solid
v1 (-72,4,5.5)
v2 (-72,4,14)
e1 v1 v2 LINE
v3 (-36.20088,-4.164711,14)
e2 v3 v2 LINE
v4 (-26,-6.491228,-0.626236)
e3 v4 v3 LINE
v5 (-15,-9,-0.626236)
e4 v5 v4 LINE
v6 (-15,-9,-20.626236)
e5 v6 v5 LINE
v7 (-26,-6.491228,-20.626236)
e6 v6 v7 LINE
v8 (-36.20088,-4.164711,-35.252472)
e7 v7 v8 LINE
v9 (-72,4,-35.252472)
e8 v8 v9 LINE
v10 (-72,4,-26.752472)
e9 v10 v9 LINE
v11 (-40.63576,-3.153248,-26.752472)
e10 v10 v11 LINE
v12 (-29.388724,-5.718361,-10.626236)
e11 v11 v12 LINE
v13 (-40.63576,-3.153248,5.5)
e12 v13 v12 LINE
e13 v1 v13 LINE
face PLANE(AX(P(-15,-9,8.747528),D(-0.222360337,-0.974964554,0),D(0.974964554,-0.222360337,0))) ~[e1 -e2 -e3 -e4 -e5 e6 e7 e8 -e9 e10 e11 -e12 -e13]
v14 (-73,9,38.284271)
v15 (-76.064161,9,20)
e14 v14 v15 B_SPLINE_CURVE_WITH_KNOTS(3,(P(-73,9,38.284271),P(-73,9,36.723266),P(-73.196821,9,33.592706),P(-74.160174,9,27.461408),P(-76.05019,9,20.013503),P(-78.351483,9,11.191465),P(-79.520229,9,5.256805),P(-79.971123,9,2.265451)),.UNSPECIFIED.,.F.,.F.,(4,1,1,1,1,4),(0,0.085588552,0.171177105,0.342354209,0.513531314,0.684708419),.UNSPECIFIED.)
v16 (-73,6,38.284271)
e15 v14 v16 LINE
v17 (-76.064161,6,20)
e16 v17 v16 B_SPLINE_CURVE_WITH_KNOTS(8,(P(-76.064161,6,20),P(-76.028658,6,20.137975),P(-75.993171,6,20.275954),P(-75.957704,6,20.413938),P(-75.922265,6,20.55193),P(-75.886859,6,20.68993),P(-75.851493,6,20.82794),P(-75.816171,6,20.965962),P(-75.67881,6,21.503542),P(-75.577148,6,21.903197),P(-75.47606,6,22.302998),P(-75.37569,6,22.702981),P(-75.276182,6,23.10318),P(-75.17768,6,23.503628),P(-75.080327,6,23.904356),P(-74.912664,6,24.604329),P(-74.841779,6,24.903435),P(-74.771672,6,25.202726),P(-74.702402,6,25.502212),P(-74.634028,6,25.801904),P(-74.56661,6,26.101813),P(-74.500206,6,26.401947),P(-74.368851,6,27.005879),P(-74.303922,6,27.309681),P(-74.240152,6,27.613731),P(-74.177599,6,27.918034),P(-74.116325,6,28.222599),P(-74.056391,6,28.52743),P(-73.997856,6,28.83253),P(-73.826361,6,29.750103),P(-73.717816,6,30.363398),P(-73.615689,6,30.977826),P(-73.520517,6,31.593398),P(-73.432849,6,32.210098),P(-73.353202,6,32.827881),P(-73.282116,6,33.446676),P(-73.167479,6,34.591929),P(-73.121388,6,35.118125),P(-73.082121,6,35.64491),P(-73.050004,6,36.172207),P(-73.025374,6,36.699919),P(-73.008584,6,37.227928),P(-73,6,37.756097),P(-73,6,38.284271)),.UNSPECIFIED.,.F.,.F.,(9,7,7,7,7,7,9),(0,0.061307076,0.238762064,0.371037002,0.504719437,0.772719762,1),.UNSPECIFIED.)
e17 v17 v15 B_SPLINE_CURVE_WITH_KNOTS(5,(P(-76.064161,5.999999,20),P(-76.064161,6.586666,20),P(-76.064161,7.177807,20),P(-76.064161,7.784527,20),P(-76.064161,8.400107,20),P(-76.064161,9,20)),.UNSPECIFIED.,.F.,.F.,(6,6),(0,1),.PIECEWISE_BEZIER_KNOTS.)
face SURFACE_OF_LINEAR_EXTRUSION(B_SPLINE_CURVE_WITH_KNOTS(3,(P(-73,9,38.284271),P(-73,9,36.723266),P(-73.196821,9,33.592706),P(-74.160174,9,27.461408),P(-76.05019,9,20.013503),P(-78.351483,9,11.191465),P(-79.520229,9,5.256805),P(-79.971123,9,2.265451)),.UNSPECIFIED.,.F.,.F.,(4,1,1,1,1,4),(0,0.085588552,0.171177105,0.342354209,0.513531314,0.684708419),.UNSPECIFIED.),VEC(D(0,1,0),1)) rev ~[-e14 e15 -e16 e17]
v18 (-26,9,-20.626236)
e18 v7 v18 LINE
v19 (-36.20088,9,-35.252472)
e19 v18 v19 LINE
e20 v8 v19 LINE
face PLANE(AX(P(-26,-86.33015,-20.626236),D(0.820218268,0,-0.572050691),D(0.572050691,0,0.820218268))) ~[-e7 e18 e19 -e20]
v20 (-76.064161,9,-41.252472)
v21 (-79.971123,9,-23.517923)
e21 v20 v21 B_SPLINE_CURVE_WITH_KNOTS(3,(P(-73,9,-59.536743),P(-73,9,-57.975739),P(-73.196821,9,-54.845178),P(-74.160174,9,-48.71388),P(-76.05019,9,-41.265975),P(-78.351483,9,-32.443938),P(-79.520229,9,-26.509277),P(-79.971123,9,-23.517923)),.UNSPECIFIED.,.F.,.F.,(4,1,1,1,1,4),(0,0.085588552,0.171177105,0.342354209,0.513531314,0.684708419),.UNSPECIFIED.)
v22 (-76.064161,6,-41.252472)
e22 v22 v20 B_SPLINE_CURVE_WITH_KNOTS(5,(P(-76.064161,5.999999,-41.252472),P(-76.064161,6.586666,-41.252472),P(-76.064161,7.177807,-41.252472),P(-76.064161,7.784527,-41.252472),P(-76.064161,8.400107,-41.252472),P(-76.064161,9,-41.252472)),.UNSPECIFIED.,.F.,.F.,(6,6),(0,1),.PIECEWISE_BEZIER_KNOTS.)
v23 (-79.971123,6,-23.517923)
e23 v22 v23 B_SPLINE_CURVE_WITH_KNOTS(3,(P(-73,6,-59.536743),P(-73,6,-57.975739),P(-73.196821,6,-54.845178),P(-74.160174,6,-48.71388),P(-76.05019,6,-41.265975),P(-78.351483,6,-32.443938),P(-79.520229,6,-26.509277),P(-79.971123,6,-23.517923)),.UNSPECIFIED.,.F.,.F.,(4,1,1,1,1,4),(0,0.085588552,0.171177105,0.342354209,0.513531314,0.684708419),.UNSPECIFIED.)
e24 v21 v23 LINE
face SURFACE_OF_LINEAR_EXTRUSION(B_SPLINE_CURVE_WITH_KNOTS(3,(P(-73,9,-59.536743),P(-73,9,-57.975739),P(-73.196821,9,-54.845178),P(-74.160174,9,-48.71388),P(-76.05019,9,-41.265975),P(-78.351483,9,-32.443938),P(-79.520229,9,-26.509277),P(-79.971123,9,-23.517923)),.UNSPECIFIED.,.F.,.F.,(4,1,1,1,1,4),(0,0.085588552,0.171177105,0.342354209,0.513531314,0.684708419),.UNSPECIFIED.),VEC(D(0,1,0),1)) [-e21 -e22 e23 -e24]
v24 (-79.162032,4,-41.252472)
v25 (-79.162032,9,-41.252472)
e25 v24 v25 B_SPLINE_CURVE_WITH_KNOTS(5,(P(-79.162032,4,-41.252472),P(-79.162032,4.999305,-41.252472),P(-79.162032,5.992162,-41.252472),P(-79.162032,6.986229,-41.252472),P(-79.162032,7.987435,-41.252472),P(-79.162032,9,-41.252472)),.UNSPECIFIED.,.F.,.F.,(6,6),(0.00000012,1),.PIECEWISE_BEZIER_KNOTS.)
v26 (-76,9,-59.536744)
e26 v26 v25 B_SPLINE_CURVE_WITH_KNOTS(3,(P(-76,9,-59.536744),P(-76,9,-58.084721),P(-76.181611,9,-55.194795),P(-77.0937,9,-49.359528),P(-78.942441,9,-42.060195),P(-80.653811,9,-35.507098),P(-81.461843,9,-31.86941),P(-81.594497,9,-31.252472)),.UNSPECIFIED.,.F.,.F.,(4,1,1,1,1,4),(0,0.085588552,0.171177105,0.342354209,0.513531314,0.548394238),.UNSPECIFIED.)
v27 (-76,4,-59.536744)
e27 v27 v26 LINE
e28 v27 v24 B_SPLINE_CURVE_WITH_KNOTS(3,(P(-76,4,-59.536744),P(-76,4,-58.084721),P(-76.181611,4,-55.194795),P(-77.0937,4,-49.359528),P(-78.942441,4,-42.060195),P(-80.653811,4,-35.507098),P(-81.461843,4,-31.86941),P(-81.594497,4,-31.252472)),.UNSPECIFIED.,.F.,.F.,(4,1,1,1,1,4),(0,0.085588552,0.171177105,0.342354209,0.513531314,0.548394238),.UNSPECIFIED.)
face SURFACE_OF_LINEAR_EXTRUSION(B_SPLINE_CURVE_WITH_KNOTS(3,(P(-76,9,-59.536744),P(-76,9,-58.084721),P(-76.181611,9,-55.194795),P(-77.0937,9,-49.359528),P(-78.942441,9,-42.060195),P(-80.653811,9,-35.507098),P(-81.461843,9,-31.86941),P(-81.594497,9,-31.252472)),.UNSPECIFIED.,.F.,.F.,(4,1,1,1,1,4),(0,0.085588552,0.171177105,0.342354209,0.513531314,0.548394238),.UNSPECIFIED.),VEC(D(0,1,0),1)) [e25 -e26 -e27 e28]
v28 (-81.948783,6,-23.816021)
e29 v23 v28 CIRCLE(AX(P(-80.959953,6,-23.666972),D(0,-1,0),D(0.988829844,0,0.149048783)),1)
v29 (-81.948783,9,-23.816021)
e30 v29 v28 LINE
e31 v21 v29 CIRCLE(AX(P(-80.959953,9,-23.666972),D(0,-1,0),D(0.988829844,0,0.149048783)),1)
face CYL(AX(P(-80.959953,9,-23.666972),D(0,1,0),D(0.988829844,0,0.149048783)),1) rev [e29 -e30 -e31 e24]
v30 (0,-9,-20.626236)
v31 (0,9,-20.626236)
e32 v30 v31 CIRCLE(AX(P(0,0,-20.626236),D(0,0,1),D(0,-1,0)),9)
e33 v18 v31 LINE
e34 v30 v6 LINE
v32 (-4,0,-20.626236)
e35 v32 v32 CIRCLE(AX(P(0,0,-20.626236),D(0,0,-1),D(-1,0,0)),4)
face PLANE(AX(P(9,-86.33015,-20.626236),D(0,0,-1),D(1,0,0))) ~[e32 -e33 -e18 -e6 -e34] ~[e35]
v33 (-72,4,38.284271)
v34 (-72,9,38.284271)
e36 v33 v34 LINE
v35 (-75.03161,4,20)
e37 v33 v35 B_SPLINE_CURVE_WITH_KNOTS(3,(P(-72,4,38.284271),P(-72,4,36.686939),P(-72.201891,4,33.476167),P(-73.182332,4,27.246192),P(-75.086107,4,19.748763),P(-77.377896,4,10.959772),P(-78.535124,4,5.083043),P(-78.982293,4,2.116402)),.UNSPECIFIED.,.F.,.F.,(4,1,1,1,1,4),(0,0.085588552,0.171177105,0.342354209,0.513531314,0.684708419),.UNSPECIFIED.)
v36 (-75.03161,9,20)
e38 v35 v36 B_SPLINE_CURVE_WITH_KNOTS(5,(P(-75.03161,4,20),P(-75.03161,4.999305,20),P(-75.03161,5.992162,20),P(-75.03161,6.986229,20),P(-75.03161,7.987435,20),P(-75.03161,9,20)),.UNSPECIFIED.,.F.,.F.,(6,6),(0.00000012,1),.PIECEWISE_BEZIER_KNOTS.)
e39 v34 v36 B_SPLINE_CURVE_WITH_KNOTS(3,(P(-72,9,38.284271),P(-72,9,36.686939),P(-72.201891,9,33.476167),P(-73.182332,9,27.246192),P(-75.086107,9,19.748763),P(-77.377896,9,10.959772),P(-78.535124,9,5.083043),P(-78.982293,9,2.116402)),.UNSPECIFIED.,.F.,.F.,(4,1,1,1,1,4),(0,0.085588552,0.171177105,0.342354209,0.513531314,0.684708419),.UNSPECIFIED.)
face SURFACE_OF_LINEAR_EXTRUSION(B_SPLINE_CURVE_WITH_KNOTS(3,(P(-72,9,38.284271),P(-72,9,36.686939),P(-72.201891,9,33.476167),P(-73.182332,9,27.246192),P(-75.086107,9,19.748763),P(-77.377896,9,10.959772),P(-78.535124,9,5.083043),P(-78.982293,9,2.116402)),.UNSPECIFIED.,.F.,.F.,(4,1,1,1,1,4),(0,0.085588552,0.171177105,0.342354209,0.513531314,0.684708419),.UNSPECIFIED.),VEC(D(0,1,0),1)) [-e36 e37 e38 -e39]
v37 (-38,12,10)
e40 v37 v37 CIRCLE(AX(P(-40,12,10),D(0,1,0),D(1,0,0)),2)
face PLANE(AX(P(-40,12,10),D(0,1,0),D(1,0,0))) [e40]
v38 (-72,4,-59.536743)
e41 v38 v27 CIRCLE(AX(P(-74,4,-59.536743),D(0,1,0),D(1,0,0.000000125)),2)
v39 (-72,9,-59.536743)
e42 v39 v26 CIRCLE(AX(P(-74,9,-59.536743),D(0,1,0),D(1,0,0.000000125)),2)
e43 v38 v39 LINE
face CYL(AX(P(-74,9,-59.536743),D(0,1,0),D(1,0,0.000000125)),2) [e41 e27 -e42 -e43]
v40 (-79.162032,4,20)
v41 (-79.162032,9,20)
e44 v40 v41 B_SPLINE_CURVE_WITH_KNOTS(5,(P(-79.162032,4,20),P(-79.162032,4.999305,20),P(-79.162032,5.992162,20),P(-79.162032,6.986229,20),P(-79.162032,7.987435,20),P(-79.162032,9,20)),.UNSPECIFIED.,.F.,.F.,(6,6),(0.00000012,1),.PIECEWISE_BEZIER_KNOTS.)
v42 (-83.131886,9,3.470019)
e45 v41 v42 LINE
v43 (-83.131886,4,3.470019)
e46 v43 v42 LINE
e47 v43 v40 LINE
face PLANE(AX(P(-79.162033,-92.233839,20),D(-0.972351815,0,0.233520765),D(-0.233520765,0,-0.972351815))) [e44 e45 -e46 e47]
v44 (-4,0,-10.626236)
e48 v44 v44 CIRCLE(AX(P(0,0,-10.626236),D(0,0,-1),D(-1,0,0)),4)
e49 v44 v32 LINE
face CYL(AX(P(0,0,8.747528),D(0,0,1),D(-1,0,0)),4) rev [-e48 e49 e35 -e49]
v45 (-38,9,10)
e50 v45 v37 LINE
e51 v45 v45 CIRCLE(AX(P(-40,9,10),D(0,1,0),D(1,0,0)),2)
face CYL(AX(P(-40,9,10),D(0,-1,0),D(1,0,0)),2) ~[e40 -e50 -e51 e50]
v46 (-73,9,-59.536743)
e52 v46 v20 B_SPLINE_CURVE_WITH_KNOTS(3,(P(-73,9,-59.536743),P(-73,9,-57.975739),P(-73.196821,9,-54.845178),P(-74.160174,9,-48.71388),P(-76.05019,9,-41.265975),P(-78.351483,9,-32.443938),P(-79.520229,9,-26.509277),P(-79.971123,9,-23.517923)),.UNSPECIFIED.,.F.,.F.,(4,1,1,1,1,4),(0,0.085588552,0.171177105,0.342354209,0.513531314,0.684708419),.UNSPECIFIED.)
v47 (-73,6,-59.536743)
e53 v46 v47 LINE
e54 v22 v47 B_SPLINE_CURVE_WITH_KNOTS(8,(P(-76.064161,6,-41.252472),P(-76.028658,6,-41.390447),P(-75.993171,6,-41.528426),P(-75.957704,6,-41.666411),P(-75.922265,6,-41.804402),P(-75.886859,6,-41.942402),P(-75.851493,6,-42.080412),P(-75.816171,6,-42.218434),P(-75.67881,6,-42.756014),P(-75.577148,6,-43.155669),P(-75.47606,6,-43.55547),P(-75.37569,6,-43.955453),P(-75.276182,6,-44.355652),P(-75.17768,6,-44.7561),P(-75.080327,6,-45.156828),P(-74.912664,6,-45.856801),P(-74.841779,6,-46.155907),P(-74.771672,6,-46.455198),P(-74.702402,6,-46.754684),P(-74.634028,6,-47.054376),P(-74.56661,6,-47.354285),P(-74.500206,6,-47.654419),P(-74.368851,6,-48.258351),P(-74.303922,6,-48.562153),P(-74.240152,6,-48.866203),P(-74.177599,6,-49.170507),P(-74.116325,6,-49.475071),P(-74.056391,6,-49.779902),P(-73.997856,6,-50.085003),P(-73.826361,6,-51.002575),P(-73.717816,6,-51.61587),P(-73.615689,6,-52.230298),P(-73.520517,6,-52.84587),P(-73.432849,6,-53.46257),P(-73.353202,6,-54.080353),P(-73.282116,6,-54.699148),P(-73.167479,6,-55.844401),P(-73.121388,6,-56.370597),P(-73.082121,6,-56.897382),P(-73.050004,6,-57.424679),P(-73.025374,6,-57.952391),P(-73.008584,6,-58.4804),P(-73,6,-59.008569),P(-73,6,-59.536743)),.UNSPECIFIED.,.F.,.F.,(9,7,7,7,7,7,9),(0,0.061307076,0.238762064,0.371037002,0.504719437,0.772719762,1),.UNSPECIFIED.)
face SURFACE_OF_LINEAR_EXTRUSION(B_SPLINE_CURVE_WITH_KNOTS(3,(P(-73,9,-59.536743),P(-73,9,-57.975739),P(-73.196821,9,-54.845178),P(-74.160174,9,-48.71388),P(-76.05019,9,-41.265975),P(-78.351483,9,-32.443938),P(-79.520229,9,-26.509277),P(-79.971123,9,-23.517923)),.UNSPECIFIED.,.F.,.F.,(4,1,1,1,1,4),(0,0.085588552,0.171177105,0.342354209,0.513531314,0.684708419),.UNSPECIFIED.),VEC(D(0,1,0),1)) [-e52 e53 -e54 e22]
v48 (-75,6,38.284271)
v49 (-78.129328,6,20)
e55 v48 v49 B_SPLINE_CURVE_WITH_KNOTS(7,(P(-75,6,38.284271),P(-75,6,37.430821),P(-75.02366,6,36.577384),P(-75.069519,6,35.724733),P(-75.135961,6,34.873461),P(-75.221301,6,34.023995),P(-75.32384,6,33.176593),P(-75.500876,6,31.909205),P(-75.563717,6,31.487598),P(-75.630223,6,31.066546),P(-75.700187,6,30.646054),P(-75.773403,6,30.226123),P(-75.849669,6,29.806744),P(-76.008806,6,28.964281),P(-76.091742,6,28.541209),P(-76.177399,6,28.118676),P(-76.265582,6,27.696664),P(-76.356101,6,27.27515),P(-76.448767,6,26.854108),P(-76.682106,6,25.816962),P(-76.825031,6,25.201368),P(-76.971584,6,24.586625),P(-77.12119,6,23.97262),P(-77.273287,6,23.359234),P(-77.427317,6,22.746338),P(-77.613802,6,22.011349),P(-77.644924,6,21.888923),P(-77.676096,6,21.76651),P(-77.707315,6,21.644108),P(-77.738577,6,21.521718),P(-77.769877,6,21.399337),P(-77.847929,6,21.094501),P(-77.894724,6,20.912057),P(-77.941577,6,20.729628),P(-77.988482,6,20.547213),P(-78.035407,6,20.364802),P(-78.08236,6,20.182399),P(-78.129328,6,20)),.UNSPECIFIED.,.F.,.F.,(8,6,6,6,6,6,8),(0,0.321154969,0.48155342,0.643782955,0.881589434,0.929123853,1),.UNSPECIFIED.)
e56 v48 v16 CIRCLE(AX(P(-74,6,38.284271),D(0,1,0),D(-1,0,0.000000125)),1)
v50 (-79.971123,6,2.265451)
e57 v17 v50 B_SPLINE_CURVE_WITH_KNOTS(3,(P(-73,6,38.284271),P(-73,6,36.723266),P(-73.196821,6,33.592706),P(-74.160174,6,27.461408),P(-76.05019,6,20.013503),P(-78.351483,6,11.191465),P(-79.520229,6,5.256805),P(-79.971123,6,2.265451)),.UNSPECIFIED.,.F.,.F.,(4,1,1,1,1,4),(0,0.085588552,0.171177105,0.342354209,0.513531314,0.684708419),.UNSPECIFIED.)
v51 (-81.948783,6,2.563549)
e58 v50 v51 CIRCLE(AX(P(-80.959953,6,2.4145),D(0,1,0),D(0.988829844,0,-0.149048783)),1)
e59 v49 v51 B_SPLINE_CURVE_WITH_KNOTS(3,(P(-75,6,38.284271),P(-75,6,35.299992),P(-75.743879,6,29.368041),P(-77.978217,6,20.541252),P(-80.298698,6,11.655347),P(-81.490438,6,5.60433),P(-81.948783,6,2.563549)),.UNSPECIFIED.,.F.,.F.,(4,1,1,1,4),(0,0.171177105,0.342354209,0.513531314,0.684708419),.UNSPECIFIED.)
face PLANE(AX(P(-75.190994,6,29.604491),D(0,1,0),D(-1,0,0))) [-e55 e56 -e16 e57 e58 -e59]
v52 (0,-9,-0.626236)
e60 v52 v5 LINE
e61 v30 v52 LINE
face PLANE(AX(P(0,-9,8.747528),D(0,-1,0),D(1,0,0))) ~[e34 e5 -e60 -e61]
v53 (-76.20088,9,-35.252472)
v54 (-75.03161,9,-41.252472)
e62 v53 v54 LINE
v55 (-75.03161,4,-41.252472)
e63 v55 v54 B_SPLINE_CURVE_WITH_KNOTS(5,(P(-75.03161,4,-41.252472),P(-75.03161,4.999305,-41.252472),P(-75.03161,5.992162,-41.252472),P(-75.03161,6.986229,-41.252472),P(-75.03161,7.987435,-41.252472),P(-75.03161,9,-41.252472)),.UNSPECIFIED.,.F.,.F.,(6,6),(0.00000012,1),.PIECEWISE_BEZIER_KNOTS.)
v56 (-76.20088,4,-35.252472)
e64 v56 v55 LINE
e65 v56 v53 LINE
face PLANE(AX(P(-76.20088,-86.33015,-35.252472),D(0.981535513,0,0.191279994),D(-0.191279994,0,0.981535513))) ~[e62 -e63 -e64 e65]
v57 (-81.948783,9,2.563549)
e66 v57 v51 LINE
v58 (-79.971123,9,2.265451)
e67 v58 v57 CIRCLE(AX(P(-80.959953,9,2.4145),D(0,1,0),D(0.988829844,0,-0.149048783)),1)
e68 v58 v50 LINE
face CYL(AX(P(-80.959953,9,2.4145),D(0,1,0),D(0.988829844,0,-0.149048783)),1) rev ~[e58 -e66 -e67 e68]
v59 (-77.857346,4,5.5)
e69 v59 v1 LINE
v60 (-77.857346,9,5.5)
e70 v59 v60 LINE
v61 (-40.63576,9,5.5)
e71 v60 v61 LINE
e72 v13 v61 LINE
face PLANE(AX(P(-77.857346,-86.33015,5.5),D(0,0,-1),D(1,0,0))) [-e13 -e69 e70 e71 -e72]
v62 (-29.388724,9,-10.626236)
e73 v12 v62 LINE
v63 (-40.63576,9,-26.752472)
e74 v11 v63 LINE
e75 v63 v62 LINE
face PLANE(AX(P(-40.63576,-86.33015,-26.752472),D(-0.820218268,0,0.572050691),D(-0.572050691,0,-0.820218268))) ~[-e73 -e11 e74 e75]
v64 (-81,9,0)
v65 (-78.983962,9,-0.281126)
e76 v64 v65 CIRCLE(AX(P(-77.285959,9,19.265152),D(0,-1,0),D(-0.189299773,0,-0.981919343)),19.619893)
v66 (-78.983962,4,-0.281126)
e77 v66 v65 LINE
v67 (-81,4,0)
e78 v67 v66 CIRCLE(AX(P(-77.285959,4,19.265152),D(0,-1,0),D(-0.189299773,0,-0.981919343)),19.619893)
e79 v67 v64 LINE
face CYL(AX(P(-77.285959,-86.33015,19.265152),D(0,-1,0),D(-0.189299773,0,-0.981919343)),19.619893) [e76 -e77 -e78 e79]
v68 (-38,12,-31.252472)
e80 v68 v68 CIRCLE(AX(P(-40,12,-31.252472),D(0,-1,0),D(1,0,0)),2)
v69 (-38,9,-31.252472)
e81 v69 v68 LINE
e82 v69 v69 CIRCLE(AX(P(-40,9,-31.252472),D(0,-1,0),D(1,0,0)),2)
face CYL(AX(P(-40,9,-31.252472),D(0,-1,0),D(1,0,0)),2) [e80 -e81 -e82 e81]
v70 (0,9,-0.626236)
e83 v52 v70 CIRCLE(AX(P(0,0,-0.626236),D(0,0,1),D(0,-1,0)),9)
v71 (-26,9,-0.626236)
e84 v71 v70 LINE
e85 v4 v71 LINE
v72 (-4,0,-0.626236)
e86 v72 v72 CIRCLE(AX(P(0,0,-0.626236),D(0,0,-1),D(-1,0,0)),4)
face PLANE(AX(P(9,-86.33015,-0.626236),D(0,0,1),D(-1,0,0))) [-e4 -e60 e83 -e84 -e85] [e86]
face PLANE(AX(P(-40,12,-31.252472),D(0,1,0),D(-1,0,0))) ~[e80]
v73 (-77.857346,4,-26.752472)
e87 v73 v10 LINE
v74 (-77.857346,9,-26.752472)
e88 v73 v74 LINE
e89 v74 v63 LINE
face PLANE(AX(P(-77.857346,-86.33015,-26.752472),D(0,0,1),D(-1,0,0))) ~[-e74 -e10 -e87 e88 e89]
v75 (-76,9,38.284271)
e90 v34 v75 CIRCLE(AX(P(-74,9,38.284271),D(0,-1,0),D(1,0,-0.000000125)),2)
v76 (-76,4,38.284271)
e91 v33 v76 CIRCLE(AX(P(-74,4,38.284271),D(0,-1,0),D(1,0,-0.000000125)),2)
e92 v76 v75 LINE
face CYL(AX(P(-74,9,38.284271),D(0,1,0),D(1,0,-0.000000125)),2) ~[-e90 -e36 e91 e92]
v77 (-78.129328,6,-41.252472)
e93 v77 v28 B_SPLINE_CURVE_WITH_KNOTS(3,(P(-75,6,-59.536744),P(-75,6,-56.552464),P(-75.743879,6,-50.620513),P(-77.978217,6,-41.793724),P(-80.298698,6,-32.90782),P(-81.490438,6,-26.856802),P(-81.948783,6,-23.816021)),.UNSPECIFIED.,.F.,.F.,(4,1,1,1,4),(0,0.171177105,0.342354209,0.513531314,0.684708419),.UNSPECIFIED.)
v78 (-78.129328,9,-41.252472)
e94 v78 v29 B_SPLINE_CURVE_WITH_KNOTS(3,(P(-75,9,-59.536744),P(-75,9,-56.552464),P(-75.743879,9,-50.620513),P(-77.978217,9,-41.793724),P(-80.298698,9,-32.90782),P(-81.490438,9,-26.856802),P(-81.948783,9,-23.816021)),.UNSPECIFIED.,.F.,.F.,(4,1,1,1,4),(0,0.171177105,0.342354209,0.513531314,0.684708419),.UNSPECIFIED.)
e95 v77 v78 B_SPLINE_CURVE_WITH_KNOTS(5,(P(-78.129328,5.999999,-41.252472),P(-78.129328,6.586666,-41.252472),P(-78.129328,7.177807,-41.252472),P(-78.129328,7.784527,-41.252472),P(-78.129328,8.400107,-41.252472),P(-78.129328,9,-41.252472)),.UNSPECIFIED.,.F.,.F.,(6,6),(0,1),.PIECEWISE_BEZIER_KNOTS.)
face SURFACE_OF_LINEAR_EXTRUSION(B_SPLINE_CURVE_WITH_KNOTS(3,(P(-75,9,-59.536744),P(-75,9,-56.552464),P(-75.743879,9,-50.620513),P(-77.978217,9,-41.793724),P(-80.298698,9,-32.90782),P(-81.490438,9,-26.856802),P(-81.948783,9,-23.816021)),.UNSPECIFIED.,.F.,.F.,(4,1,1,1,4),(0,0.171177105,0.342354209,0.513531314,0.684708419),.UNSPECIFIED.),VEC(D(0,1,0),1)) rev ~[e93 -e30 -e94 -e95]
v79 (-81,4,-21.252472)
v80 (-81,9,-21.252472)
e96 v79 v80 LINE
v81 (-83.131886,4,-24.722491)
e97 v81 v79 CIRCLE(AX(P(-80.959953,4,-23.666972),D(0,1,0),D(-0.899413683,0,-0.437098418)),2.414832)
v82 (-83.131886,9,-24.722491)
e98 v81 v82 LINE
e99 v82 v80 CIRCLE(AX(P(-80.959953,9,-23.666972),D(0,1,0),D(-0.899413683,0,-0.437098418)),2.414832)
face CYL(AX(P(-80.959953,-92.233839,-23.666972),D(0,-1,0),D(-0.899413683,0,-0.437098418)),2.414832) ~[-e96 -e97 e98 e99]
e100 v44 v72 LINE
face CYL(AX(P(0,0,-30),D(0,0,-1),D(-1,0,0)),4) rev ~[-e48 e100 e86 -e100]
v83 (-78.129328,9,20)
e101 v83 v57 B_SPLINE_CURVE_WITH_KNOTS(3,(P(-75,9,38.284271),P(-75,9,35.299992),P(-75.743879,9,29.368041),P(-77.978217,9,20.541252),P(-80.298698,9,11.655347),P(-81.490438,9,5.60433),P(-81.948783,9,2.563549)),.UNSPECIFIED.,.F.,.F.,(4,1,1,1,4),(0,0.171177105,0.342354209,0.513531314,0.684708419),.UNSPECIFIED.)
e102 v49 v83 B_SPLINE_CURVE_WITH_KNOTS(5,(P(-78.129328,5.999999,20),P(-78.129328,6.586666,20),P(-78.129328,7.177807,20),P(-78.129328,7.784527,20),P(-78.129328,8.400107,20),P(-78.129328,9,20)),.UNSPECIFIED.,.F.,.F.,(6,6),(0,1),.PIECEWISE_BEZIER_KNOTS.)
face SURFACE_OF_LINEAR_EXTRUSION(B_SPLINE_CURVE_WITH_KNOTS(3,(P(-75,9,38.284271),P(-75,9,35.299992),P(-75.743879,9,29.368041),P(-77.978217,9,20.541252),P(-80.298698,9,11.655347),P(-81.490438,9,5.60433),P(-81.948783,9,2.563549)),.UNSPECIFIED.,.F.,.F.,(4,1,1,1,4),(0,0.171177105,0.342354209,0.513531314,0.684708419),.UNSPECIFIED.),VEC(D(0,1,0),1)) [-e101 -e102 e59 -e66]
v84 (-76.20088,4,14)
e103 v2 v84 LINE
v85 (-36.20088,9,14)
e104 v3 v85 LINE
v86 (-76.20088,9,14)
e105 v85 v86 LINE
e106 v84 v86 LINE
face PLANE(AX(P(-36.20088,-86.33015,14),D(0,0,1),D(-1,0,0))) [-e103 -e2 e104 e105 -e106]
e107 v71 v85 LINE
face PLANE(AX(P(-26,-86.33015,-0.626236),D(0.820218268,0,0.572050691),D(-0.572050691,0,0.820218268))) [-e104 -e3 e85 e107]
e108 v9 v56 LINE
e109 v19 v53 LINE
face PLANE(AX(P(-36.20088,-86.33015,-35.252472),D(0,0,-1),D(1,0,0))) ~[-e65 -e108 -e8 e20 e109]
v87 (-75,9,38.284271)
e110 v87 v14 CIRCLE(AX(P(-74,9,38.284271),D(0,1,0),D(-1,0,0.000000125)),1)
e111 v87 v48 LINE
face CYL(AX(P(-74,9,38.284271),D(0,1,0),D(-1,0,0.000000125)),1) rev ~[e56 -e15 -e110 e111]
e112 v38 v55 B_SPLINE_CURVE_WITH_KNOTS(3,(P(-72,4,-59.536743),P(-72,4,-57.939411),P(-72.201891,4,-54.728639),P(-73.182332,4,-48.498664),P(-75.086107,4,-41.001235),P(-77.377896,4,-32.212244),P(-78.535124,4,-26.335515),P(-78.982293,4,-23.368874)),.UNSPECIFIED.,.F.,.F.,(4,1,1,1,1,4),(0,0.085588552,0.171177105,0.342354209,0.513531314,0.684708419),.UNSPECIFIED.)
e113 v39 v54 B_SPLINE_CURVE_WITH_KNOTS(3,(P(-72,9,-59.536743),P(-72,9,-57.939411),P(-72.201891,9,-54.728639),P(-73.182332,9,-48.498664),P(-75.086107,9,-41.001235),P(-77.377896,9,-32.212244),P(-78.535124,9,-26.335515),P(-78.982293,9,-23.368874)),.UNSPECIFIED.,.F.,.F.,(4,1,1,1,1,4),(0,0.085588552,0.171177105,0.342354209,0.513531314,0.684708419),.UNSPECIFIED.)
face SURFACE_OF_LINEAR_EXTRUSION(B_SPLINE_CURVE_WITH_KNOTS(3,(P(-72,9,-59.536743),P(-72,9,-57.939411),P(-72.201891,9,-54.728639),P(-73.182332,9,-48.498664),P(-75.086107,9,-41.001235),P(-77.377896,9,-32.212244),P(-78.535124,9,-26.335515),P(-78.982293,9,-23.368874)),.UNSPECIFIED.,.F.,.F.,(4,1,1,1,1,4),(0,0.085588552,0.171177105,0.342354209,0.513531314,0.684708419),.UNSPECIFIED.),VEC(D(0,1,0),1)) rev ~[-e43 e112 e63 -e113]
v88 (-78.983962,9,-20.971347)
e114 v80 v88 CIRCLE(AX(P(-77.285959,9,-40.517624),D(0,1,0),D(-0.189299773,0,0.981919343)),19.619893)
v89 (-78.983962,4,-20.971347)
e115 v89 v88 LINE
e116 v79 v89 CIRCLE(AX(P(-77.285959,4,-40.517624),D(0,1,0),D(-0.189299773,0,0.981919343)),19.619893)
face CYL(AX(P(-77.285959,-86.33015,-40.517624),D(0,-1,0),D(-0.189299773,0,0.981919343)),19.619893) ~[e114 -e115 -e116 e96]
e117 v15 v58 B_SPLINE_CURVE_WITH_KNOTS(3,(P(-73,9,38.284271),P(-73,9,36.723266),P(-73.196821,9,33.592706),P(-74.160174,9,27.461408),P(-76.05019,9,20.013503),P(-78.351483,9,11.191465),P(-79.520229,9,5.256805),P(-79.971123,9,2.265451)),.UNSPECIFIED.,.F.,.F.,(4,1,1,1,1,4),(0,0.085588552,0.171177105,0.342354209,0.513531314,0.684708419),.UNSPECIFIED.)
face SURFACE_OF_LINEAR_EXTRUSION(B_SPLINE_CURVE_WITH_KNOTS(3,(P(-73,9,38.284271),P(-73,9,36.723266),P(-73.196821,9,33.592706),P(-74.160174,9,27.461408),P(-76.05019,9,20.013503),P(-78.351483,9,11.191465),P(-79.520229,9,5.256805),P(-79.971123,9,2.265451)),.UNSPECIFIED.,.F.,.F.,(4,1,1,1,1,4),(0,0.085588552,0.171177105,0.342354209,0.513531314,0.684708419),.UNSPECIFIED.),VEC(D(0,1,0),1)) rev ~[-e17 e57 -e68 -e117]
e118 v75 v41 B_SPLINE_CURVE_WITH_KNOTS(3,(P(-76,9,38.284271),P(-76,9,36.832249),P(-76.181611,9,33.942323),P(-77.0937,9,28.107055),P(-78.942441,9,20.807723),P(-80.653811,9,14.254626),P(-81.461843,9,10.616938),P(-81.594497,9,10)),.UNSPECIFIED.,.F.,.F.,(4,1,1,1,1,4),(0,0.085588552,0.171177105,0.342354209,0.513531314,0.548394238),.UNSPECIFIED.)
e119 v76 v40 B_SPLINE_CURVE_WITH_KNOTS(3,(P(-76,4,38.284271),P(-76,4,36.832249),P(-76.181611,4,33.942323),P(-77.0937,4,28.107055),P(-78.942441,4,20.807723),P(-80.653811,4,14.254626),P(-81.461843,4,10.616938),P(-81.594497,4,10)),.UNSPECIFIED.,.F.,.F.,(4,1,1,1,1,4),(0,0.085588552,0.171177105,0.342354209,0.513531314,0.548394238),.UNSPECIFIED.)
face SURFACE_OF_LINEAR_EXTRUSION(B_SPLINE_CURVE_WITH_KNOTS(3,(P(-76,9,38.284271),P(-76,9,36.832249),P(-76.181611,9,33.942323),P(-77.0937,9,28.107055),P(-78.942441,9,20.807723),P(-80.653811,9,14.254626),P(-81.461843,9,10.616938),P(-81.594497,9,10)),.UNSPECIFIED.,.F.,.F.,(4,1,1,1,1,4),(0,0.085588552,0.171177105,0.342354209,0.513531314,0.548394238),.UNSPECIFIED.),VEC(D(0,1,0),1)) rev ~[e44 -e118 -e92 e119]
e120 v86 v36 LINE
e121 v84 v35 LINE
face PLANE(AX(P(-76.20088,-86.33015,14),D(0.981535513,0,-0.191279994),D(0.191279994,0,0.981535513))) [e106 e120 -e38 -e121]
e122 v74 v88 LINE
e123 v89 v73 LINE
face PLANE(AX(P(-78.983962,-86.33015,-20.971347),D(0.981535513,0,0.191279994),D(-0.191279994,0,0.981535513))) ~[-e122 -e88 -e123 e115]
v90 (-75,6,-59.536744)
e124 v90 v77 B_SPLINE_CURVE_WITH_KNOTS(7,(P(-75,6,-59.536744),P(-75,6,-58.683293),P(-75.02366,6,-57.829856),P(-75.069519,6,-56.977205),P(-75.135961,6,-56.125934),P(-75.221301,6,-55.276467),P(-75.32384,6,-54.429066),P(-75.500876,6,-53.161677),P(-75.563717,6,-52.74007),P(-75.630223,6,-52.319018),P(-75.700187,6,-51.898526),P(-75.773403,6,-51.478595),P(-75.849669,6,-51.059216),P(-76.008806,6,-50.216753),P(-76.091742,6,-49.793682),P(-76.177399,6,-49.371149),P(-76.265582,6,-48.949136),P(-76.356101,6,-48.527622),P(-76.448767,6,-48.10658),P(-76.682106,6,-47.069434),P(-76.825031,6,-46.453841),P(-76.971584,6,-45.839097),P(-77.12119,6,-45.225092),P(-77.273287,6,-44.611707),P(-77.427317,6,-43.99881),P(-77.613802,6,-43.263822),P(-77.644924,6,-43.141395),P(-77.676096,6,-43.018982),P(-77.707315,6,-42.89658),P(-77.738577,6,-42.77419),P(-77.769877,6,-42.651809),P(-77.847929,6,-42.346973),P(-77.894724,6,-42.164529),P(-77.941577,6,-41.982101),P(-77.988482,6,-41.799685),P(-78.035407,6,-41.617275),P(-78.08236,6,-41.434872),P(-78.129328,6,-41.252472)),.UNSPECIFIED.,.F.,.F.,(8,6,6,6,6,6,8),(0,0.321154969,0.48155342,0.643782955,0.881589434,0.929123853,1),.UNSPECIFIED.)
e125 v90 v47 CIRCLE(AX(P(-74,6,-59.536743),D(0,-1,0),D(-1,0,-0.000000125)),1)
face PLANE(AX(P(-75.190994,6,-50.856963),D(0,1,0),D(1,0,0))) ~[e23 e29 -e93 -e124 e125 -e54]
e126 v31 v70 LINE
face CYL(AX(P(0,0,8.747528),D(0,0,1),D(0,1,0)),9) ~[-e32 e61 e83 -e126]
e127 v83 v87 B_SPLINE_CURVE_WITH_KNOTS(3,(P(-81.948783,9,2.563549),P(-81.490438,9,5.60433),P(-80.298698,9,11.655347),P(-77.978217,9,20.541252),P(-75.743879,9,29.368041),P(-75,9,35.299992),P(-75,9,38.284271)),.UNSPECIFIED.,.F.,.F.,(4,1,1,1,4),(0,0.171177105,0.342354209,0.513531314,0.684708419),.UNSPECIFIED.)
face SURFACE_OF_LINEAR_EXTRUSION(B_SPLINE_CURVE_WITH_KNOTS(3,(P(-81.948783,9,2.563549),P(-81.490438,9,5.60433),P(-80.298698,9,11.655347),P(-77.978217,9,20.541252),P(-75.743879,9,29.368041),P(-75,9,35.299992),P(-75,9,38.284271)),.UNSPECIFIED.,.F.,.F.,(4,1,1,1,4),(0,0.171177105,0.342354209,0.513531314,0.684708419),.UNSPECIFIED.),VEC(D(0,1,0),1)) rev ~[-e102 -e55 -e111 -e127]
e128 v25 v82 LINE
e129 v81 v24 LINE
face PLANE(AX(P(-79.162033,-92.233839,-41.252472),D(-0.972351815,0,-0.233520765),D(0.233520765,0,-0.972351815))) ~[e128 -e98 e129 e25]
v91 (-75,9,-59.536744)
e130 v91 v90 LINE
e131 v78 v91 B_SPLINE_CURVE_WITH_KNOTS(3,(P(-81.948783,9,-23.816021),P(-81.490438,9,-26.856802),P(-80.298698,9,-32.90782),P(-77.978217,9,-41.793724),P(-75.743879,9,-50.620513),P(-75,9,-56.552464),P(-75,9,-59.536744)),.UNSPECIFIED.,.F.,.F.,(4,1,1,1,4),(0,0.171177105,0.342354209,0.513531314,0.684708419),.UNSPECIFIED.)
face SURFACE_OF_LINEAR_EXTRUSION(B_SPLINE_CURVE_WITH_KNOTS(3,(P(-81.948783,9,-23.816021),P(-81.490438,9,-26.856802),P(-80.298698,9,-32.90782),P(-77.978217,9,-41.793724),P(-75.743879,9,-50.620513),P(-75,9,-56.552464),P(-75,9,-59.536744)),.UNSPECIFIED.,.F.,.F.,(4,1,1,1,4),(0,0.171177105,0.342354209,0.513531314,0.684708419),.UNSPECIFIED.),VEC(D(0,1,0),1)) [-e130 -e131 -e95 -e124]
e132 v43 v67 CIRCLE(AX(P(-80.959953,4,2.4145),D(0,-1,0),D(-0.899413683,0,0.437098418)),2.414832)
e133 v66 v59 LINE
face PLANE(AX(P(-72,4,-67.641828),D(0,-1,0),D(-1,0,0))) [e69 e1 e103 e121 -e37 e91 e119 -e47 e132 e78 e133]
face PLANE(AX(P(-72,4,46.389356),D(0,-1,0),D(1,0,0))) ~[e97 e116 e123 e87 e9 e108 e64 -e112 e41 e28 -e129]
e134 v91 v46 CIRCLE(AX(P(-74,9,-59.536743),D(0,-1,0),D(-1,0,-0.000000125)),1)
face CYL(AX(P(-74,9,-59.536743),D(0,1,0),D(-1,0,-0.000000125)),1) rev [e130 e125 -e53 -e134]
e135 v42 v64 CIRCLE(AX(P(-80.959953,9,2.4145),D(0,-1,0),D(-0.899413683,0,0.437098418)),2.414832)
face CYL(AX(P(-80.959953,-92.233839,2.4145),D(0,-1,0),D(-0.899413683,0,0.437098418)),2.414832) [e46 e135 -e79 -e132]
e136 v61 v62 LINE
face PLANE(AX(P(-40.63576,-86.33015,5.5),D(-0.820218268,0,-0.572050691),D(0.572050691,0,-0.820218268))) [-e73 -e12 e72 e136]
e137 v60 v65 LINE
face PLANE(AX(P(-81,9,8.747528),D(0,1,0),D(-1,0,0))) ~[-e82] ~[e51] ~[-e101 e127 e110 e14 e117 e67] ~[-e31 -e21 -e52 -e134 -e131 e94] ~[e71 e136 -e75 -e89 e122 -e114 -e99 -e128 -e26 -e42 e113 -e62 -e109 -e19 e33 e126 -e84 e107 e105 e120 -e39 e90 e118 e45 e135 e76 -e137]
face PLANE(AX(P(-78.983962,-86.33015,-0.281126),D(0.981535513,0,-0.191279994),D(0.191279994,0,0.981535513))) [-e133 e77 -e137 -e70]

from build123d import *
from build123d.topology import SkipClean

# Parameters (mm, degrees)
SKETCH1_R               = 4
BOSS_EXTRUDE1_DEPTH     = 20
SKETCH2_R               = 2
BOSS_EXTRUDE2_DEPTH     = 3
CUT_EXTRUDE1_DEPTH      = 3
BOSS_EXTRUDE3_DEPTH     = 5
CUT_EXTRUDE2_DEPTH      = 101.233839294
CUT_EXTRUDE2_DEPTH_BACK = 101.233839294
BOSS_EXTRUDE4_START     = -2
BOSS_EXTRUDE4_DEPTH     = 2
CUT_EXTRUDE3_DEPTH      = 87.641828375
CUT_EXTRUDE3_DEPTH_BACK = 87.641828375
BOSS_EXTRUDE5_START     = 30
SKETCH8_R               = 4
BOSS_EXTRUDE5_DEPTH     = 30
CUT_EXTRUDE4_DEPTH      = 95.330150438
CUT_EXTRUDE4_DEPTH_BACK = 95.330150438


with BuildPart() as part:
    # Sketch1 → Boss-Extrude1 (new body)
    with BuildSketch(Plane.XY):
        with BuildLine():
            Line((0, 9), (-90, 9))
            Line((-90, 9), (-90, -9))
            Line((-90, -9), (0, -9))
            ThreePointArc((0, -9), (9, 0), (0, 9))
        make_face()
        Circle(SKETCH1_R, mode=Mode.SUBTRACT)
    extrude(amount=BOSS_EXTRUDE1_DEPTH)

    # Sketch2 → Boss-Extrude2 (add)
    with BuildSketch(Plane(origin=(0, 9, 0), x_dir=(1, 0, 0), z_dir=(0, 1, 0))):
        with Locations((-40, -10)):
            Circle(SKETCH2_R)
    extrude(amount=BOSS_EXTRUDE2_DEPTH)

    # Sketch3 → Cut-Extrude1 (cut)
    with BuildSketch(Plane(origin=(0, 9, 0), x_dir=(1, 0, 0), z_dir=(0, 1, 0))):
        with BuildLine():
            ThreePointArc((-79.971123065, -2.265451037), (-81.109001692, -1.425669976), (-81.948782753, -2.563548603))
            add(Edge.make_bspline(
                [(-75, -38.284271372), (-75.000000372, -35.299991519), (-75.743878784, -29.368041064), (-77.978217194, -20.541251955), (-80.298698299, -11.655347435), (-81.490438214, -5.604329939), (-81.948782753, -2.563548603)],
                knots=[0, 0, 0, 0, 0.171177105, 0.342354209, 0.513531314, 0.684708419, 0.684708419, 0.684708419, 0.684708419], degree=3))
            ThreePointArc((-75, -38.284271372), (-73.999999875, -39.284271247), (-73, -38.284271123))
            add(Edge.make_bspline(
                [(-73, -38.284271123), (-73.000000195, -36.723266395), (-73.196821218, -33.592705995), (-74.160174303, -27.46140767), (-76.050190168, -20.013503037), (-78.351483402, -11.19146534), (-79.520228797, -5.256805267), (-79.971123065, -2.265451037)],
                knots=[0, 0, 0, 0, 0.085588552, 0.171177105, 0.342354209, 0.513531314, 0.684708419, 0.684708419, 0.684708419, 0.684708419], degree=3))
        make_face()
    extrude(amount=-CUT_EXTRUDE1_DEPTH, mode=Mode.SUBTRACT)

    # Sketch4 → Boss-Extrude3 (add)
    with BuildSketch(Plane(origin=(0, 9, 0), x_dir=(1, 0, 0), z_dir=(0, 1, 0))):
        with BuildLine():
            Line((-90, -10), (-90, -0.41449982))
            Line((-90, -0.41449982), (-80.959952909, -0.41449982))
            ThreePointArc((-80.959952909, -0.41449982), (-79.655383082, -0.898552075), (-78.982293221, -2.116402253))
            add(Edge.make_bspline(
                [(-72, -38.284270998), (-72.000000199, -36.686938926), (-72.201891338, -33.476167151), (-73.182332484, -27.246191739), (-75.086106556, -19.748762966), (-77.377895983, -10.95977161), (-78.535124088, -5.083042932), (-78.982293221, -2.116402253)],
                knots=[0, 0, 0, 0, 0.085588552, 0.171177105, 0.342354209, 0.513531314, 0.684708419, 0.684708419, 0.684708419, 0.684708419], degree=3))
            ThreePointArc((-72, -38.284270998), (-73.99999975, -40.284271247), (-76, -38.284271497))
            add(Edge.make_bspline(
                [(-76, -38.284271497), (-76.000000181, -36.832248759), (-76.181610857, -33.942322546), (-77.093699759, -28.107055454), (-78.942441004, -20.807723253), (-80.653811295, -14.254625868), (-81.461843141, -10.616938278), (-81.594497194, -10)],
                knots=[0, 0, 0, 0, 0.085588552, 0.171177105, 0.342354209, 0.513531314, 0.548394238, 0.548394238, 0.548394238, 0.548394238], degree=3))
            Line((-81.594497194, -10), (-90, -10))
        make_face()
        with BuildLine():
            ThreePointArc((-75, -38.284271372), (-73.999999875, -39.284271247), (-73, -38.284271123))
            add(Edge.make_bspline(
                [(-73, -38.284271123), (-73.000000195, -36.723266395), (-73.196821218, -33.592705995), (-74.160174303, -27.46140767), (-76.050190168, -20.013503037), (-78.351483402, -11.19146534), (-79.520228797, -5.256805267), (-79.971123065, -2.265451037)],
                knots=[0, 0, 0, 0, 0.085588552, 0.171177105, 0.342354209, 0.513531314, 0.684708419, 0.684708419, 0.684708419, 0.684708419], degree=3))
            ThreePointArc((-79.971123065, -2.265451037), (-81.109001692, -1.425669976), (-81.948782753, -2.563548603))
            add(Edge.make_bspline(
                [(-81.948782753, -2.563548603), (-81.490438214, -5.604329939), (-80.298698299, -11.655347435), (-77.978217194, -20.541251955), (-75.743878784, -29.368041064), (-75.000000372, -35.299991519), (-75, -38.284271372)],
                knots=[0, 0, 0, 0, 0.171177105, 0.342354209, 0.513531314, 0.684708419, 0.684708419, 0.684708419, 0.684708419], degree=3))
        make_face(mode=Mode.SUBTRACT)
    extrude(amount=-BOSS_EXTRUDE3_DEPTH)

    # Sketch5 → Cut-Extrude2 (cut, two sides: drawn at the far end of the back side and taken through both)
    with BuildSketch(Plane(origin=(0, 9, 0), x_dir=(1, 0, 0), z_dir=(0, 1, 0)).offset(-CUT_EXTRUDE2_DEPTH_BACK)):
        with BuildLine():
            Line((-79.162032771, -19.999999885), (-83.13188577, -3.470019027))
            ThreePointArc((-83.13188577, -3.470019027), (-83.017493149, -1.150402786), (-81, 0))
            Line((-81, 0), (-90, 0))
            Line((-90, 0), (-90, -20))
            Line((-90, -20), (-79.162032771, -19.999999885))
        make_face()
    extrude(amount=CUT_EXTRUDE2_DEPTH + CUT_EXTRUDE2_DEPTH_BACK, mode=Mode.SUBTRACT)

    # Sketch6 → Boss-Extrude4 (add)
    with BuildSketch(Plane.XZ.offset(-4).offset(BOSS_EXTRUDE4_START)):
        with BuildLine():
            Line((-76.064161018, 20), (-78.129327832, 20))
            Line((-78.129327832, 20), (-79.162032327, 19.999999771))
            add(Edge.make_bspline(
                [(-76, 38.284271497), (-76.000000181, 36.832248759), (-76.181610857, 33.942322546), (-77.093699759, 28.107055454), (-78.268200121, 23.469809255), (-79.0949235, 20.260458438), (-79.162032327, 19.999999771)],
                knots=[0.190934795, 0.190934795, 0.190934795, 0.190934795, 0.276523348, 0.3621119, 0.533289005, 0.548394238, 0.548394238, 0.548394238, 0.548394238], degree=3))
            ThreePointArc((-76, 38.284271497), (-73.99999975, 40.284271247), (-72, 38.284270998))
            add(Edge.make_bspline(
                [(-75.031610496, 20.00000001), (-74.287622469, 22.893815084), (-73.170396852, 27.32203382), (-72.201891338, 33.476167151), (-72.000000199, 36.686938926), (-72, 38.284270998)],
                knots=[0, 0, 0, 0, 0.167009375, 0.252597927, 0.338186479, 0.338186479, 0.338186479, 0.338186479], degree=3))
            Line((-75.031610496, 20.00000001), (-76.064161018, 20))
        make_face()
    extrude(amount=BOSS_EXTRUDE4_DEPTH)

    # Sketch7 → Cut-Extrude3 (cut, two sides: drawn at the far end of the back side and taken through both)
    with BuildSketch(Plane.XY.offset(20).offset(-CUT_EXTRUDE3_DEPTH_BACK)):
        Polygon((-72, -21), (-15, -9), (-72, 4), (-92, 4), (-92, -21), align=None)
    extrude(amount=CUT_EXTRUDE3_DEPTH + CUT_EXTRUDE3_DEPTH_BACK, mode=Mode.SUBTRACT)

    # Sketch8 → Boss-Extrude5 (add)
    with SkipClean():  # the faces are left unmerged after this step: merging them gives an invalid solid
        with BuildSketch(Plane(origin=(0, 0, 0), x_dir=(-1, 0, 0), z_dir=(0, 0, -1)).offset(BOSS_EXTRUDE5_START)):
            with BuildLine():
                Line((15, -9), (72, 4))
                Line((72, 4), (81, 4))
                Line((81, 4), (81, 9))
                Line((81, 9), (0, 9))
                ThreePointArc((0, 9), (-9, 0), (0, -9))
                Line((0, -9), (15, -9))
            make_face()
            Circle(SKETCH8_R, mode=Mode.SUBTRACT)
        extrude(amount=-BOSS_EXTRUDE5_DEPTH)

    # Sketch9 → Cut-Extrude4 (cut, two sides: drawn at the far end of the back side and taken through both)
    with BuildSketch(Plane(origin=(0, 9, 0), x_dir=(1, 0, 0), z_dir=(0, 1, 0)).offset(-CUT_EXTRUDE4_DEPTH_BACK)):
        with BuildLine():
            Line((9, 0.626236109), (-26, 0.626236109))
            Line((-26, 0.626236109), (-36.200880428, -14.00000001))
            Line((-36.200880428, -14.00000001), (-76.200880428, -14.00000001))
            Line((-76.200880428, -14.00000001), (-75.031610496, -20.00000001))
            Line((-75.031610496, -20.00000001), (16, -20.00000001))
            Line((16, -20.00000001), (16, 10.626236109))
            Line((16, 10.626236109), (16, 30))
            Line((16, 30), (-81, 30))
            Line((-81, 30), (-81, 0))
            ThreePointArc((-81, 0), (-79.99562938, 0.16672565), (-78.983962224, 0.281125602))
            Line((-78.983962224, 0.281125602), (-77.857346165, -5.50000001))
            Line((-77.857346165, -5.50000001), (-40.635759862, -5.50000001))
            Line((-40.635759862, -5.50000001), (-29.388723709, 10.626236109))
            Line((-29.388723709, 10.626236109), (9, 10.626236109))
            Line((9, 10.626236109), (9, 0.626236109))
        make_face()
    extrude(amount=CUT_EXTRUDE4_DEPTH + CUT_EXTRUDE4_DEPTH_BACK, mode=Mode.SUBTRACT)

    # Mirror1: part across plane


with BuildPart() as part_1:
    add(part.part)
    add(part.part.mirror(Plane(origin=(9, -9, -10.626236109), x_dir=(1, 0, 0), z_dir=(0, 0, 1))))


solid = part_1.part
